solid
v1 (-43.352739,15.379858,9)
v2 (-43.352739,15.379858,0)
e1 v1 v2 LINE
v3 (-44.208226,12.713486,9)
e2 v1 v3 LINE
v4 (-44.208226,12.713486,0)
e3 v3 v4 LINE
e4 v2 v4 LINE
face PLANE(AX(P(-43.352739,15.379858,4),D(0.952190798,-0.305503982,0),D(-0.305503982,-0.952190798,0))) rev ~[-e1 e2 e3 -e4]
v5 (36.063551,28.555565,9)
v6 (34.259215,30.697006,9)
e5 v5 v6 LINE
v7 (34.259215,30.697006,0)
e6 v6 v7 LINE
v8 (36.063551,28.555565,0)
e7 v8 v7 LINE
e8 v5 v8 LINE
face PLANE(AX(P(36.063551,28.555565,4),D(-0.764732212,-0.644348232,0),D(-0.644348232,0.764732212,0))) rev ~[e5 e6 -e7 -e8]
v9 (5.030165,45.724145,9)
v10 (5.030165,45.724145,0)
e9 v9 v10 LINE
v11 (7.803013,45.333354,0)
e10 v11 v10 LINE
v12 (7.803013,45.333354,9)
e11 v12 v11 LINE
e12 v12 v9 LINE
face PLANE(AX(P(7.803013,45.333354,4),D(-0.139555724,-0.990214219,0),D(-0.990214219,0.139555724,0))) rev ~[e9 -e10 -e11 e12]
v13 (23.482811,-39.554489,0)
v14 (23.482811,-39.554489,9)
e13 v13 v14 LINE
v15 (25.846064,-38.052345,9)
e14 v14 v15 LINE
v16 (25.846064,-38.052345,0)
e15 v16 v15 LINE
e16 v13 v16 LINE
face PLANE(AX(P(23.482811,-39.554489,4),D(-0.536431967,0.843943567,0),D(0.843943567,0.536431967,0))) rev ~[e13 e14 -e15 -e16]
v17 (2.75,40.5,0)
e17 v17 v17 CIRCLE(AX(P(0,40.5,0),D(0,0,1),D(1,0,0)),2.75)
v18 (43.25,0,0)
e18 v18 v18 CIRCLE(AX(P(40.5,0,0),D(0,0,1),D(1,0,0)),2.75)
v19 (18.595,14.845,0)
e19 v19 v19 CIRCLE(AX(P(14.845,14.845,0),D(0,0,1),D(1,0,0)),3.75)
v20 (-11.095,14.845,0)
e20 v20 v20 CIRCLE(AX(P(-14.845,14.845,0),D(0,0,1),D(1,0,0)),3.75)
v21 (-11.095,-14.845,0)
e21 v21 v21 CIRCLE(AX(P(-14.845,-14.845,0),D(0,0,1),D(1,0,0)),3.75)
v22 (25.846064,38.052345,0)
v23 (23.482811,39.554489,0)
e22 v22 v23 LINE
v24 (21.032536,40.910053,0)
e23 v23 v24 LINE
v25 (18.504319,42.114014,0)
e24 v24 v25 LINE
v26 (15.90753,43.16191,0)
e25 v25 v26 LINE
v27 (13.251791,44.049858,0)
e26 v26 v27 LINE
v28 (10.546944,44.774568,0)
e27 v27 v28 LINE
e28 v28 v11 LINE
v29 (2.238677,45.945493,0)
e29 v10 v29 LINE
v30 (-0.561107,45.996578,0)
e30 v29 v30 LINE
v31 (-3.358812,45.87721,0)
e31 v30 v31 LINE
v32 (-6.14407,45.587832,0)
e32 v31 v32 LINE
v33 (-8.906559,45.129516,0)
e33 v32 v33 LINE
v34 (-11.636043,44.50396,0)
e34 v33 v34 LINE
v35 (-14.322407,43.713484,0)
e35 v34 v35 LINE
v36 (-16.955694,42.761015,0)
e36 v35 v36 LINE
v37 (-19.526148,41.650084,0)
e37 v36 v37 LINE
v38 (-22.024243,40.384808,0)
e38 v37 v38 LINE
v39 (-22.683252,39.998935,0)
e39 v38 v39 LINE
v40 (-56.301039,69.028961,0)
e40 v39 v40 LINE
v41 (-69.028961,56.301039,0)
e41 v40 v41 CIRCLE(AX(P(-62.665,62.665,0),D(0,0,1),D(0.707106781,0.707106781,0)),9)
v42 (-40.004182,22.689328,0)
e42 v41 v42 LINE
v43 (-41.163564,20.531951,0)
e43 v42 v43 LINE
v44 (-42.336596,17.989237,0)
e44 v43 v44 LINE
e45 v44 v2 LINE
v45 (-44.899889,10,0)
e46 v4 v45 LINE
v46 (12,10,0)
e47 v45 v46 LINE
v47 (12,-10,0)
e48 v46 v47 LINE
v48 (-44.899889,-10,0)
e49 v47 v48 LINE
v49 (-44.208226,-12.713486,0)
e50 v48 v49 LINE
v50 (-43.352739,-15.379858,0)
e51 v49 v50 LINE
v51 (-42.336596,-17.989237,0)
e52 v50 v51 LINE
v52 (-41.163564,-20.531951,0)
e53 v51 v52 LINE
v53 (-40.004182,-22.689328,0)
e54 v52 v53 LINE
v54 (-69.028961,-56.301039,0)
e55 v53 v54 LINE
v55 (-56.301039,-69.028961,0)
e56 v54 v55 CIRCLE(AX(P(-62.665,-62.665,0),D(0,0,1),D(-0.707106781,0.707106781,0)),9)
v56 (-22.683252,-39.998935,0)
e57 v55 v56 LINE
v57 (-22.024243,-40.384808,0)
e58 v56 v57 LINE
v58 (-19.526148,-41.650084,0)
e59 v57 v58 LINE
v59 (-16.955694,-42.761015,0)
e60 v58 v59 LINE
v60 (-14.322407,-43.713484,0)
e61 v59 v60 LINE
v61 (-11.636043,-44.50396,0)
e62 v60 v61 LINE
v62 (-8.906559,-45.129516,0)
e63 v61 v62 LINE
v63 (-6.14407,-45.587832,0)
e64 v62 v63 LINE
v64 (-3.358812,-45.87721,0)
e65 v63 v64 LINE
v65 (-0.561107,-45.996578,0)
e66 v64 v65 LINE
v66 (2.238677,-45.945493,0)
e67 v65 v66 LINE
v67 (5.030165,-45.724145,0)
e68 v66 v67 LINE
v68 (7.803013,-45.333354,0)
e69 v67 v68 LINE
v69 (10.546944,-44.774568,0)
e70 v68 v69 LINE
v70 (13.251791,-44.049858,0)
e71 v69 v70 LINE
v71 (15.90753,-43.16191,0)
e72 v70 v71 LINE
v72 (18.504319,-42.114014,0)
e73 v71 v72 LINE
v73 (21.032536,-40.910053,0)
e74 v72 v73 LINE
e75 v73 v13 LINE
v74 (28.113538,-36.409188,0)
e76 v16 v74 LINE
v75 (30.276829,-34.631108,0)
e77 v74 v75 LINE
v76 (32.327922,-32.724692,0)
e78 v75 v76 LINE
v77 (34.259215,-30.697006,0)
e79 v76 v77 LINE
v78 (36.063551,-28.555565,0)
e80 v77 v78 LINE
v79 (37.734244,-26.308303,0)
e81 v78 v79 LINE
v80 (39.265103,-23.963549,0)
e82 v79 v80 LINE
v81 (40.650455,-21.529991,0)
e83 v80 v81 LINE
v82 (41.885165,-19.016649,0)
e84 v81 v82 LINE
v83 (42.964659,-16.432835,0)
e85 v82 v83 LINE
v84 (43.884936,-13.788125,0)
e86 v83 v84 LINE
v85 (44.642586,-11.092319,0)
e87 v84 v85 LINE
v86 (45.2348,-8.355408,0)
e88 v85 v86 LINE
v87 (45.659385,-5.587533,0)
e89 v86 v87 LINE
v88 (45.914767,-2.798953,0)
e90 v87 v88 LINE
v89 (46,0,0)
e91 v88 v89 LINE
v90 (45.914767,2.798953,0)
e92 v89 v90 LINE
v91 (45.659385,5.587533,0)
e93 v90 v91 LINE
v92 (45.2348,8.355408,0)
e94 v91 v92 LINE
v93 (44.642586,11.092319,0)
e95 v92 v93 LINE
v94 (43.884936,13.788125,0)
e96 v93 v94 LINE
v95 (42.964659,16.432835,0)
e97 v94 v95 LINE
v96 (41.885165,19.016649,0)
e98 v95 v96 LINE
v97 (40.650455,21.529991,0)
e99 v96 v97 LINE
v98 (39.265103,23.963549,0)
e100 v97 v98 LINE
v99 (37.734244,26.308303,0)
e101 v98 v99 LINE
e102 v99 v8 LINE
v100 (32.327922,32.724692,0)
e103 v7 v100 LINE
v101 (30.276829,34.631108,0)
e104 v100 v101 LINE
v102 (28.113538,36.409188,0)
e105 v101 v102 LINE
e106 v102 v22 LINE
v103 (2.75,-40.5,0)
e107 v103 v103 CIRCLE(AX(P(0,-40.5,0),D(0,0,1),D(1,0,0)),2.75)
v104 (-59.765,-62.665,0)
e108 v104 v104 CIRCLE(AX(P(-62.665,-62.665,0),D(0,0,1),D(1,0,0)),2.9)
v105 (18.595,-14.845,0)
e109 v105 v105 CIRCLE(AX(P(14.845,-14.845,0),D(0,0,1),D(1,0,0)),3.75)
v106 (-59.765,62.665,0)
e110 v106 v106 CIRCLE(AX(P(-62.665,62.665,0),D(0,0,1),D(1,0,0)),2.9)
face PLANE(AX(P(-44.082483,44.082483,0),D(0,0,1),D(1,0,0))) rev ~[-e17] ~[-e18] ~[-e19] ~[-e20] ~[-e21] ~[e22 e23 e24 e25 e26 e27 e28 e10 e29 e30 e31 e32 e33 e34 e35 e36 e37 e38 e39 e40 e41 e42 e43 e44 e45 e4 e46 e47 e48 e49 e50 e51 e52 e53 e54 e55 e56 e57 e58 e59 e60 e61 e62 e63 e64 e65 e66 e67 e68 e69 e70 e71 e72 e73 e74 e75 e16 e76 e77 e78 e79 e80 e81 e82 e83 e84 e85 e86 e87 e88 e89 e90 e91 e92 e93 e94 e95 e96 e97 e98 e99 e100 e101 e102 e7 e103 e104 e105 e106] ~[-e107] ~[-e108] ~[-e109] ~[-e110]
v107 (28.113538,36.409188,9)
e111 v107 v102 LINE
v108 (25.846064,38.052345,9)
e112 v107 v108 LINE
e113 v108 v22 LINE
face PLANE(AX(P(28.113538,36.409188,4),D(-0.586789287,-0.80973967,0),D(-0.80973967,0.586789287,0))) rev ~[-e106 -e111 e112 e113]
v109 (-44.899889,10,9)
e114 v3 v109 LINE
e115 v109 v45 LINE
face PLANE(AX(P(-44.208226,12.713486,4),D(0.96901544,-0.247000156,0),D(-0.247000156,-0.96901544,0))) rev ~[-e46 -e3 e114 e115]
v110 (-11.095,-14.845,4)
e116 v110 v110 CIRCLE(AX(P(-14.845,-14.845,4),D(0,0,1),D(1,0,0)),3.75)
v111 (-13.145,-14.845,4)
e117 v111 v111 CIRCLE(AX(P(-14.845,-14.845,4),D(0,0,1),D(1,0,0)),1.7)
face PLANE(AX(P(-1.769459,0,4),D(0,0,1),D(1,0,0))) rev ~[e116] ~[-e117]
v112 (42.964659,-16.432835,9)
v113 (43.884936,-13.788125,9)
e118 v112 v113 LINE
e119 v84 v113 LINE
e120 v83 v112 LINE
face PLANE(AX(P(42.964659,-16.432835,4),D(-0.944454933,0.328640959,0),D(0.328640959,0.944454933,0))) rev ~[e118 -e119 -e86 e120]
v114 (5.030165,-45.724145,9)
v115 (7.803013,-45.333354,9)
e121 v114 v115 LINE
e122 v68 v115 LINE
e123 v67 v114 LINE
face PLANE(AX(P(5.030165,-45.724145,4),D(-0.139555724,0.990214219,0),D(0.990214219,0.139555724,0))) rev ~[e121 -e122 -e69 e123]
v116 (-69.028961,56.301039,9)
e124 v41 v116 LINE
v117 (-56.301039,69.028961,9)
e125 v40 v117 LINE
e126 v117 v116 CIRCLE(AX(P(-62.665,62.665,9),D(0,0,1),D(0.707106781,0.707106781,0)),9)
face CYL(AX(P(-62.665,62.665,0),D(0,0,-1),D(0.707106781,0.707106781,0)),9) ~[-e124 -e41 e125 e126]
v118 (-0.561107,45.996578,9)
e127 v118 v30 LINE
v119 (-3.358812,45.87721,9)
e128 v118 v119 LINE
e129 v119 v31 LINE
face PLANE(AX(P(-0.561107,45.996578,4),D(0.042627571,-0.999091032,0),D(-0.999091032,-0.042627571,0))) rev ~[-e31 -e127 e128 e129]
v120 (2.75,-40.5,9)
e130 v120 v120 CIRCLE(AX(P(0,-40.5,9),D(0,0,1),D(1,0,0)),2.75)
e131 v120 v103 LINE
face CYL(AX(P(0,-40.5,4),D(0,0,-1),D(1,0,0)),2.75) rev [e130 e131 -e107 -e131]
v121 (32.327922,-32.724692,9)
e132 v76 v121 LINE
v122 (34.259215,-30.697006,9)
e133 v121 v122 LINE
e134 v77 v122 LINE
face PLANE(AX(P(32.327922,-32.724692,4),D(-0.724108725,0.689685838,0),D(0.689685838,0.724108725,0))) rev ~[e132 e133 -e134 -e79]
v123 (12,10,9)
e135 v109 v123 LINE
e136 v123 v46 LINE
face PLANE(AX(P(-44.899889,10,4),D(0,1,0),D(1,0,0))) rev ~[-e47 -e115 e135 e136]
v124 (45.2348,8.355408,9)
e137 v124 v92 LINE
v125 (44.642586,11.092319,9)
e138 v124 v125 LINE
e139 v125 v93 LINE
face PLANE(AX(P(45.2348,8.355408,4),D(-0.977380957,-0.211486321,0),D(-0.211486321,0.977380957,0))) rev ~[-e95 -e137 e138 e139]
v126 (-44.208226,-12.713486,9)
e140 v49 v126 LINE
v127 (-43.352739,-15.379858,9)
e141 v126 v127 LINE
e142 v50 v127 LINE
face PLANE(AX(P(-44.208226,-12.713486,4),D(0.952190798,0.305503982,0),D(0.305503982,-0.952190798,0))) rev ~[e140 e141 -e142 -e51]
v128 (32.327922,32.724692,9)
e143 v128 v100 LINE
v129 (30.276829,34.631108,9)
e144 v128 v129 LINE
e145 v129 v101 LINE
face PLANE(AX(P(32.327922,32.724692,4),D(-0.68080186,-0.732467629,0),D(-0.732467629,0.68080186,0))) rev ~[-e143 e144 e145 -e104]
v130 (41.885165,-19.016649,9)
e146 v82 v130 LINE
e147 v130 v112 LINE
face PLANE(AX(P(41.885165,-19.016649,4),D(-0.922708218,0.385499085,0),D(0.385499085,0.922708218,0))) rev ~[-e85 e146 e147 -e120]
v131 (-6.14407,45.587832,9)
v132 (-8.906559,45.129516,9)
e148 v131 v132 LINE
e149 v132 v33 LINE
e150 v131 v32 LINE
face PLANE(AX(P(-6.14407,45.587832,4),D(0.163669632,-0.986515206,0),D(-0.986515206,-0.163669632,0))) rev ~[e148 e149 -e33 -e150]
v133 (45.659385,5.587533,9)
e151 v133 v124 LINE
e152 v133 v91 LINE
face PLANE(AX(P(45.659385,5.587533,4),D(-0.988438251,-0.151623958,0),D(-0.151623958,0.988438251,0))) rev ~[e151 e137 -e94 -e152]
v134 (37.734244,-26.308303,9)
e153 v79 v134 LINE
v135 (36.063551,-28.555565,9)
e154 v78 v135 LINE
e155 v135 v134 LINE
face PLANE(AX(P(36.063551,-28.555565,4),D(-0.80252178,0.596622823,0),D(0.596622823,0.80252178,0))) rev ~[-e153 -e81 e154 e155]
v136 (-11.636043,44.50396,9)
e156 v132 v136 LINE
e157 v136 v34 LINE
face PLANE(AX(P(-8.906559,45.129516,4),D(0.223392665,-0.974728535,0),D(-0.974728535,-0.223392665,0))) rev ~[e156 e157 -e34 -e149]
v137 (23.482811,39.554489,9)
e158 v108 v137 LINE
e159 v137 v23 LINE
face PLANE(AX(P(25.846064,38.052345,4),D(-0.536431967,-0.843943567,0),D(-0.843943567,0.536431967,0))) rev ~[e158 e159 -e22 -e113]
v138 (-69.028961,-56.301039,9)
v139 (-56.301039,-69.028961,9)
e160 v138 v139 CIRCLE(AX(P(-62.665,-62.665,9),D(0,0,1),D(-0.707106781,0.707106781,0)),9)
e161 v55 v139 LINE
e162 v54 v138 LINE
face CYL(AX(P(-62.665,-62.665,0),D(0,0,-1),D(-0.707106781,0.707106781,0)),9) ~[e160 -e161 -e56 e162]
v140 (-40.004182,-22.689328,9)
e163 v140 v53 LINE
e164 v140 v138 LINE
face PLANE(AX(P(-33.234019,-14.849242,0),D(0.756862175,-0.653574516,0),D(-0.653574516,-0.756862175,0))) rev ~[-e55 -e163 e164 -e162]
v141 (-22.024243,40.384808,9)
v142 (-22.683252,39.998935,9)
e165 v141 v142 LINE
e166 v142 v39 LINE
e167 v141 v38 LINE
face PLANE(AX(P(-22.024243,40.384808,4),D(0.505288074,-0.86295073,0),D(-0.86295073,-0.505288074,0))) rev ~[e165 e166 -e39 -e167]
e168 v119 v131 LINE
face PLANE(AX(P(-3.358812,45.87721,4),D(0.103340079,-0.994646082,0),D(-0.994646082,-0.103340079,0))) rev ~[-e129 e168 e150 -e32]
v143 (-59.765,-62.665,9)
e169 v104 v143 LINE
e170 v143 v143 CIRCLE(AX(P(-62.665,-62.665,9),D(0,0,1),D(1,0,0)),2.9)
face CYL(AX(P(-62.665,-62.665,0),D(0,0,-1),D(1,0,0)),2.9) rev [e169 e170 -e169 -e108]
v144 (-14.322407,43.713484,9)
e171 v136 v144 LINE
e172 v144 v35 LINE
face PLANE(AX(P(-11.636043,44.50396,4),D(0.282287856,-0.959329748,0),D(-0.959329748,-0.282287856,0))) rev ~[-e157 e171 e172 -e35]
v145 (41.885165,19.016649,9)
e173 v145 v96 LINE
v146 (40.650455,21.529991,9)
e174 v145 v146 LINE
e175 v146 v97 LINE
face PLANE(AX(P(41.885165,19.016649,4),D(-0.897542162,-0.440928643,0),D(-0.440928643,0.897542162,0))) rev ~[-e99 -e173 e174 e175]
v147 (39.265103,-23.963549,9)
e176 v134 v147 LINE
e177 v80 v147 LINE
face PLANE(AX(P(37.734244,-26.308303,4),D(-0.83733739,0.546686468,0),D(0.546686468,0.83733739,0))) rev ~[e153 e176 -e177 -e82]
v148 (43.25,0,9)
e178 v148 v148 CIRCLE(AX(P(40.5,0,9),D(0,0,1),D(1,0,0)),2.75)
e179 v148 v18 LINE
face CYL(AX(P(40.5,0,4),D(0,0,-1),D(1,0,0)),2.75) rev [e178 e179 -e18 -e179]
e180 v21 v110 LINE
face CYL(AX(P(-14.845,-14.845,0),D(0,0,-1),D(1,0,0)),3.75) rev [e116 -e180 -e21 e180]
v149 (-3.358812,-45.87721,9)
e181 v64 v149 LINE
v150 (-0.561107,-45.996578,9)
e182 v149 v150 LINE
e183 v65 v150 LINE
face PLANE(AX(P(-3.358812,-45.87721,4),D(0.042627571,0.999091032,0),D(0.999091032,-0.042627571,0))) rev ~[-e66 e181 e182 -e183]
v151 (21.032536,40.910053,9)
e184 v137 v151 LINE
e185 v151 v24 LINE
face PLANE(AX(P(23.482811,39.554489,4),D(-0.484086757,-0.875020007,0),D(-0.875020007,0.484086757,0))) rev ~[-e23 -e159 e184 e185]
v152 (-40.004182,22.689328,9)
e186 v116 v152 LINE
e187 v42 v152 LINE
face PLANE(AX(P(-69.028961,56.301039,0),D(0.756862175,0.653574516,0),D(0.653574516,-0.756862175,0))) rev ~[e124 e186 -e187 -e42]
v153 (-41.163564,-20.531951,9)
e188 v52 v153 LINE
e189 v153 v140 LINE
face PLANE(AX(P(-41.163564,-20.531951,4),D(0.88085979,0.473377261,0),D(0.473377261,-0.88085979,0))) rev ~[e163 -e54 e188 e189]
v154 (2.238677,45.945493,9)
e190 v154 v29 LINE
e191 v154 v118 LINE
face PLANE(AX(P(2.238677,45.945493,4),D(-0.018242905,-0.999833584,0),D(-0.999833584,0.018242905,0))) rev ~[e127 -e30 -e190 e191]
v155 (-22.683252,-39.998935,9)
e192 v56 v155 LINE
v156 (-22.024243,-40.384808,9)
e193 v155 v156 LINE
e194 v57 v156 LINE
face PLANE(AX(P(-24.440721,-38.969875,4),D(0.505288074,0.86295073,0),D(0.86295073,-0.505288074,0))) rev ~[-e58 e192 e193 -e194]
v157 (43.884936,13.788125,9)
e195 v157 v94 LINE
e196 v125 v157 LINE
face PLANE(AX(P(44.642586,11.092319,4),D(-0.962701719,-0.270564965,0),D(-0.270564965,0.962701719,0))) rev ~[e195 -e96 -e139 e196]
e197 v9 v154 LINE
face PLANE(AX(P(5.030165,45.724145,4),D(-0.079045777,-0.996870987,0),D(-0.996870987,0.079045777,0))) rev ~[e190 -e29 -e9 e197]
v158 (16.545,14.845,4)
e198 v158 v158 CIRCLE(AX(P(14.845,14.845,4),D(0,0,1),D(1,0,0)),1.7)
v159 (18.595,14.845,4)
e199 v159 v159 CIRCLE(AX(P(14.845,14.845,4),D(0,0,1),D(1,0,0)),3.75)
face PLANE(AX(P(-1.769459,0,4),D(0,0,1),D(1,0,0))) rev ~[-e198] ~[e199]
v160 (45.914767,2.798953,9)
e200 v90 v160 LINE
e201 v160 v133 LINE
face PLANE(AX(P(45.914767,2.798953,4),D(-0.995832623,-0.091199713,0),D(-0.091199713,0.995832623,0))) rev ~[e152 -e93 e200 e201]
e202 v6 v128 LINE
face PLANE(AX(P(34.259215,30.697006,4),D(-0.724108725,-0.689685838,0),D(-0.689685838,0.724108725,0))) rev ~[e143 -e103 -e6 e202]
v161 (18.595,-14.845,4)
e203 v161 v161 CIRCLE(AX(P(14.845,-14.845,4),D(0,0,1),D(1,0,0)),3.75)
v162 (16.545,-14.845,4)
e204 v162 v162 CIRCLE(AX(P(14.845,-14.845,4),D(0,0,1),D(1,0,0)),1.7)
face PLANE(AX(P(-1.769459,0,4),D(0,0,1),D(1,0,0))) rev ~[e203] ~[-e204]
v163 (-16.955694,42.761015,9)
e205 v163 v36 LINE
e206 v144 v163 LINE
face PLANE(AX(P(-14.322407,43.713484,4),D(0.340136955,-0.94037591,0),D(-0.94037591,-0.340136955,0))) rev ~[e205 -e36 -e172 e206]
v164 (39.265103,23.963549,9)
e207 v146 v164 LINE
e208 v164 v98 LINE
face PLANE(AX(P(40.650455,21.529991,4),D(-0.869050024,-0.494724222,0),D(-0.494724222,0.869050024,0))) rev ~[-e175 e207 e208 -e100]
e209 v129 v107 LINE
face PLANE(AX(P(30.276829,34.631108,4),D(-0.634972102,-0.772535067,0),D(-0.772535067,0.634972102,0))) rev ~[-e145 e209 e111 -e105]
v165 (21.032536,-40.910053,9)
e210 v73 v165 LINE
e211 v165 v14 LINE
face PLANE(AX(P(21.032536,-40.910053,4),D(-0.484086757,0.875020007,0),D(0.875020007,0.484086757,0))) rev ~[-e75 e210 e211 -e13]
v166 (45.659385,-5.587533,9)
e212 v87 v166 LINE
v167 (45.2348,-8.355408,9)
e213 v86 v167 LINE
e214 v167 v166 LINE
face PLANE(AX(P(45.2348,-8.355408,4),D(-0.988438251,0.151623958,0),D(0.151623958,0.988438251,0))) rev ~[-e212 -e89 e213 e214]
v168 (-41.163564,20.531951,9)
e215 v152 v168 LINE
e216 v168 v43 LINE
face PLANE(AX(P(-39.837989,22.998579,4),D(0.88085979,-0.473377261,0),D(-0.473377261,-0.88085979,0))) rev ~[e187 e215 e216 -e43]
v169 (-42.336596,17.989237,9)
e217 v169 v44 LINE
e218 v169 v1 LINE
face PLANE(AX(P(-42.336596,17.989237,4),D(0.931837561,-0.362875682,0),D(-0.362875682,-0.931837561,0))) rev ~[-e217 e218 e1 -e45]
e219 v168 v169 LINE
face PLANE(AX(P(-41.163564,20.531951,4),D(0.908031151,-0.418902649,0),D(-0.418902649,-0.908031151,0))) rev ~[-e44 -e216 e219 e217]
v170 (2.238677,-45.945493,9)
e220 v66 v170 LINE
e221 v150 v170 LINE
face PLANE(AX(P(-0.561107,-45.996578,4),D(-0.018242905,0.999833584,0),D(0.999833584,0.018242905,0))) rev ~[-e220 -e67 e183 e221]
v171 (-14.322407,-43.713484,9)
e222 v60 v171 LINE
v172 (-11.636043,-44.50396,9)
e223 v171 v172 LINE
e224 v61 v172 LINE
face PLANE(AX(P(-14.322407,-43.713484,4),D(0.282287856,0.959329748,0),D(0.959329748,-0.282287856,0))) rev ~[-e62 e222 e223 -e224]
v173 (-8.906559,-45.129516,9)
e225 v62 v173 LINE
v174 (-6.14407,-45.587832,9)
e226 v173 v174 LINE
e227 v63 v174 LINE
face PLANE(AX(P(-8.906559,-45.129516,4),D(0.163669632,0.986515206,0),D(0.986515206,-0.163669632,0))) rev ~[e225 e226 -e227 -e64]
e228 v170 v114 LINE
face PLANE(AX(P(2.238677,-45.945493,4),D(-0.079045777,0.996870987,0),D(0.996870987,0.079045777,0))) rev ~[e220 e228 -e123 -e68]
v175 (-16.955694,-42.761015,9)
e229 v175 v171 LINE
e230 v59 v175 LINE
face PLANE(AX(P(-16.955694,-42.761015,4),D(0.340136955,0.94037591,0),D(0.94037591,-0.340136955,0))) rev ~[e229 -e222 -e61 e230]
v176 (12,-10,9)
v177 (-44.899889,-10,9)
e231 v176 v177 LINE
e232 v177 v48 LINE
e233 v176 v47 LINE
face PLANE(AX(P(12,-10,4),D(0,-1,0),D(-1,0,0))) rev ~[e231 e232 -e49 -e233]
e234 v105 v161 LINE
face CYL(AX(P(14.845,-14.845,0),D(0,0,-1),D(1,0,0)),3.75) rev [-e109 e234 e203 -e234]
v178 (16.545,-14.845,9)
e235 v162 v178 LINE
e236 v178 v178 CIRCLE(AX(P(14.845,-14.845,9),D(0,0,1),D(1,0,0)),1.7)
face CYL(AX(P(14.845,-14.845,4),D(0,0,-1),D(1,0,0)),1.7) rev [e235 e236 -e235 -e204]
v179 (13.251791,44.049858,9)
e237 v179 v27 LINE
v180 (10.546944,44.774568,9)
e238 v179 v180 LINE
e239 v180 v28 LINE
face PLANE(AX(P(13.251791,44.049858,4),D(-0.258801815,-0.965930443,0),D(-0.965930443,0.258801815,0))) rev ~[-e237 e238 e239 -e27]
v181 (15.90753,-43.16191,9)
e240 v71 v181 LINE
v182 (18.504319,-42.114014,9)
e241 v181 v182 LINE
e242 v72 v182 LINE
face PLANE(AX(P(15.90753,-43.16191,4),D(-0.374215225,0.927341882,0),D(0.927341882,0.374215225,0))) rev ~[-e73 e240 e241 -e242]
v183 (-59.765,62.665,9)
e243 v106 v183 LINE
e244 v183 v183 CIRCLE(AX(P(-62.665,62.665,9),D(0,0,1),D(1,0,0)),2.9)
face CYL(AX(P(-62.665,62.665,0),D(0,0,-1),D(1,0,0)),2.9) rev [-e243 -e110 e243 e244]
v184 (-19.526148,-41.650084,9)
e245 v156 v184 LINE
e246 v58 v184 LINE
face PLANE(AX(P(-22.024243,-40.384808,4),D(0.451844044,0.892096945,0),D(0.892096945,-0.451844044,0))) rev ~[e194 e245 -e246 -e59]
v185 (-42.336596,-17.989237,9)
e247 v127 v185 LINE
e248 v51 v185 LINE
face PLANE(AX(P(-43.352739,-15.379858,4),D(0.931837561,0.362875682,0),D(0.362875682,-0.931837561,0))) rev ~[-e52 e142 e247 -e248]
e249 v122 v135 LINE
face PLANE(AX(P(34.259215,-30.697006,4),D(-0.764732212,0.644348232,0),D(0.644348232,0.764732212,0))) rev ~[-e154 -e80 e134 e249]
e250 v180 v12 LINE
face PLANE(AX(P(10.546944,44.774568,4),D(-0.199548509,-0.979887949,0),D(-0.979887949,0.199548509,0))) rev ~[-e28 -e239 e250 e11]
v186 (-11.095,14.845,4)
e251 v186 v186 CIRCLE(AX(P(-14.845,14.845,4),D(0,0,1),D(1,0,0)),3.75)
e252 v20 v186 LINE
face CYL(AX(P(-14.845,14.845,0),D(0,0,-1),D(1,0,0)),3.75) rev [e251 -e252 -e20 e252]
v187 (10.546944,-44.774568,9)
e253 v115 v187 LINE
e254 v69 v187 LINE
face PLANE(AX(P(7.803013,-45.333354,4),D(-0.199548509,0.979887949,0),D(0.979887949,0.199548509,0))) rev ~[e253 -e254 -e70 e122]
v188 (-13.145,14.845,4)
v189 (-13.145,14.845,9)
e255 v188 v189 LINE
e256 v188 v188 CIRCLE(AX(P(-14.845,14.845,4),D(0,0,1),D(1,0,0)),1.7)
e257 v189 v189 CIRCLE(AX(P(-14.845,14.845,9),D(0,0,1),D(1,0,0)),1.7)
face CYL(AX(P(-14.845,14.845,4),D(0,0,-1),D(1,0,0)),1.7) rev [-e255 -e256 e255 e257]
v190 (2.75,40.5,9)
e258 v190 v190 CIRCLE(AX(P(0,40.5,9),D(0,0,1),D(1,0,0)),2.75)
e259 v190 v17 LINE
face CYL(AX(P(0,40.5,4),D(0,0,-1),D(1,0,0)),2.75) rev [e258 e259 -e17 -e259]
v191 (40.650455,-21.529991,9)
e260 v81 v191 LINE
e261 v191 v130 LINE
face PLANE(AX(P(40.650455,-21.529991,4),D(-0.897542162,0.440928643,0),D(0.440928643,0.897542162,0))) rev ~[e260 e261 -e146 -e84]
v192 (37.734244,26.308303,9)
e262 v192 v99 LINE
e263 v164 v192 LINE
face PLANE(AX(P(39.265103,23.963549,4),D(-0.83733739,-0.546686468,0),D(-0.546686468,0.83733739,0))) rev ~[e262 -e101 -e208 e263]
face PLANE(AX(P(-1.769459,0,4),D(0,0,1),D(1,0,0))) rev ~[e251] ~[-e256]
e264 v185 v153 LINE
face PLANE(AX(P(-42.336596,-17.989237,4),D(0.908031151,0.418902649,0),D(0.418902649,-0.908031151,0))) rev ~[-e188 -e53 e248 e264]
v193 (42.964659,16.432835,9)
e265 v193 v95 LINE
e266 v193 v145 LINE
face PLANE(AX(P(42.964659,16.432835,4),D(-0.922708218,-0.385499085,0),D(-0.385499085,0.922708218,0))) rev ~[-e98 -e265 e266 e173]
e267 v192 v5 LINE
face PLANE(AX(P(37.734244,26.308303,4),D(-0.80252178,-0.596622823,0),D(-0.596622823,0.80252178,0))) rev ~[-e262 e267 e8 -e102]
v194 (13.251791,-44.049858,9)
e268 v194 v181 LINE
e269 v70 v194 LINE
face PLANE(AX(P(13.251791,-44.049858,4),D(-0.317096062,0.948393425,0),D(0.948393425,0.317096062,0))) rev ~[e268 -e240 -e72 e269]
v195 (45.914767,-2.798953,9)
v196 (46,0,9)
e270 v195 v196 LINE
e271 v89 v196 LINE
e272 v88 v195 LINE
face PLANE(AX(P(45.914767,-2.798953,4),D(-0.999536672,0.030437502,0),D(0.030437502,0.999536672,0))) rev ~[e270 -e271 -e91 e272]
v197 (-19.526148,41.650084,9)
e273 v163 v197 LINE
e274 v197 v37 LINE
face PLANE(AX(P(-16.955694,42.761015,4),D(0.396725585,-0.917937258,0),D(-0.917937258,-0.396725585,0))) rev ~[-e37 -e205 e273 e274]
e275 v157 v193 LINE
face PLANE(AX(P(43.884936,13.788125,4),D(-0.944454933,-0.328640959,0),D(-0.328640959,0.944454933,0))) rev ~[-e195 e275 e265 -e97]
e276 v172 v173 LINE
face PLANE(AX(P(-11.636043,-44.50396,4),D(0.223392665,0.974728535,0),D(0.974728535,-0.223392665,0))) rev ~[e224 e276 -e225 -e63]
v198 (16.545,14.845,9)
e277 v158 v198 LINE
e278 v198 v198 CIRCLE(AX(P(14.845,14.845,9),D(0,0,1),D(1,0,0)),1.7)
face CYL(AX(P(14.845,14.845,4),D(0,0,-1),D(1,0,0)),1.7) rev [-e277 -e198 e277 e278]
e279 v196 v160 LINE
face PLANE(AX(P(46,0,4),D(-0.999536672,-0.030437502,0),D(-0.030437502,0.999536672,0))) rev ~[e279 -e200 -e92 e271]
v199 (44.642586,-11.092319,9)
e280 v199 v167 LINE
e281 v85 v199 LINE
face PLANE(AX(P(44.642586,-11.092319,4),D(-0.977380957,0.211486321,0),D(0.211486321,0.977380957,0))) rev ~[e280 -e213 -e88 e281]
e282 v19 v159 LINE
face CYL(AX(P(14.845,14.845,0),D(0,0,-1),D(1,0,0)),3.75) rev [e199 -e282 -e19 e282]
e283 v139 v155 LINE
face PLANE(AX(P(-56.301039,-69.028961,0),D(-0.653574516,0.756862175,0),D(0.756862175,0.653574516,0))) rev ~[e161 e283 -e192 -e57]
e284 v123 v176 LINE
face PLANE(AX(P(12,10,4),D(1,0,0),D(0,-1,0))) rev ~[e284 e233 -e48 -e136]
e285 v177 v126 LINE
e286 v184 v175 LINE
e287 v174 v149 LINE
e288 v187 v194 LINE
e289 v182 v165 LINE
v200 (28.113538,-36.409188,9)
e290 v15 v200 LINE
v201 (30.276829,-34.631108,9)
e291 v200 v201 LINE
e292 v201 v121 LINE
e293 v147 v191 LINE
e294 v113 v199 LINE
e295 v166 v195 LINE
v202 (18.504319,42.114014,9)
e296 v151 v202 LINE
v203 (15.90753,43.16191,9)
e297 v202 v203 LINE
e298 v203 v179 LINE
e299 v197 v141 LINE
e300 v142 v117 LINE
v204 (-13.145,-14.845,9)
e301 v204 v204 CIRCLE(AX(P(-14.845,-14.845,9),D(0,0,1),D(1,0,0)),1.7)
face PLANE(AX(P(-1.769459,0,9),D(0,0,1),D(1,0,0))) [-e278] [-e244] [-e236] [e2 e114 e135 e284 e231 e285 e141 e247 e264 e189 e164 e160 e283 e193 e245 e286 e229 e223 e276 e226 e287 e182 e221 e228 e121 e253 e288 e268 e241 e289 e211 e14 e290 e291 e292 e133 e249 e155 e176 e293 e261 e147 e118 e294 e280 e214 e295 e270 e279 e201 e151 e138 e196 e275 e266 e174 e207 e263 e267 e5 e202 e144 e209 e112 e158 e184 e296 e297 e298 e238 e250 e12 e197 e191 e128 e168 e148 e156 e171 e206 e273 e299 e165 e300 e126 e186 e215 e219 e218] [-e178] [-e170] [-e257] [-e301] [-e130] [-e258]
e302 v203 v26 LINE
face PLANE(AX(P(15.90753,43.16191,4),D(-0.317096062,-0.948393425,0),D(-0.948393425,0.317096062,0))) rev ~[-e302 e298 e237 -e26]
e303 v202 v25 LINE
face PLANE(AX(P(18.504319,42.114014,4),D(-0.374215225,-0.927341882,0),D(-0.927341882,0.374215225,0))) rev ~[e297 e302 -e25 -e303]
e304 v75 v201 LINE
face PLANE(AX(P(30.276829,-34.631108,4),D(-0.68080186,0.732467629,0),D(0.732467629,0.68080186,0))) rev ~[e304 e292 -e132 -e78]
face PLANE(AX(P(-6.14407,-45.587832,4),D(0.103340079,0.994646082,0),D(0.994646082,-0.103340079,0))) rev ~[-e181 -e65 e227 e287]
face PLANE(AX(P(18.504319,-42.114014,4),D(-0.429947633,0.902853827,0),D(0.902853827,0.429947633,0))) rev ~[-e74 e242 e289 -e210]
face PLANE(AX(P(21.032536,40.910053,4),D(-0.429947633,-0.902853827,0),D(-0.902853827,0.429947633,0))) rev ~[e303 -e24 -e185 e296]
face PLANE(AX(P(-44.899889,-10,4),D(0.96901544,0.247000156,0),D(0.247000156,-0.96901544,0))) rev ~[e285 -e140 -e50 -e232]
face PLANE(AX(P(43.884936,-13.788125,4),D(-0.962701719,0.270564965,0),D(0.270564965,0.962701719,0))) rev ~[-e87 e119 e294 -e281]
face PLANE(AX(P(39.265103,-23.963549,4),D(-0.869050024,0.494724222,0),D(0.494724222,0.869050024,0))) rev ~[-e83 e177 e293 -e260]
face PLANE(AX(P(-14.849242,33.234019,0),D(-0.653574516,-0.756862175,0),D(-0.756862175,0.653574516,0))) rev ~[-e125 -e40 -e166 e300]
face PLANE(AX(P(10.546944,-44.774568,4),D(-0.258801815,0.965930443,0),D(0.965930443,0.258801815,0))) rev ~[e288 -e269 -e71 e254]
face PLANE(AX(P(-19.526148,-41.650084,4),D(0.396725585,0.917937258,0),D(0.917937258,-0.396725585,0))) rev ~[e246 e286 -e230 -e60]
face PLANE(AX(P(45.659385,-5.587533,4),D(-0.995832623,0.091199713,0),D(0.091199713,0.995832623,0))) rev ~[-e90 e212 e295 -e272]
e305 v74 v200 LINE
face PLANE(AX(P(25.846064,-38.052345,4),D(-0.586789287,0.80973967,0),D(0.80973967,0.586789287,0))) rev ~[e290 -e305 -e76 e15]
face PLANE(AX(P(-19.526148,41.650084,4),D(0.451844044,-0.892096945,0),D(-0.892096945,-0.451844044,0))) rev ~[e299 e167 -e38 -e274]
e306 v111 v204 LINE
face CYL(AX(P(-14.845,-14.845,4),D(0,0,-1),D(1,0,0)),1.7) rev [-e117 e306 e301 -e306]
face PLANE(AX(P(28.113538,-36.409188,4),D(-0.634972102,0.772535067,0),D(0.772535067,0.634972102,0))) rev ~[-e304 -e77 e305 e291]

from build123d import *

# Parameters (mm, degrees)
SKETCH_1_R          = 3.75
SKETCH_1_R_2        = 2.75
EXTRUDE_436_DEPTH   = 4
EXTRUDE_START       = 4
SKETCH_2_R          = 1.7
SKETCH_2_R_2        = 2.75
EXTRUDE_712_DEPTH   = 5
SKETCH_3_R          = 2.9
EXTRUDE_5_8_DEPTH   = 9
SKETCH_4_R          = 2.9
EXTRUDE_5_8_2_DEPTH = 9


with BuildPart() as part:
    # 草图1 → Extrude 436 (new body)
    with BuildSketch(Plane.XY):
        Polygon((-44.899888641, -10), (-44.2082264, -12.713485699), (-43.352738806, -15.379858192), (-42.336596099, -17.989236526), (-41.163563864, -20.531950955), (-39.837989085, -22.998578775), (-38.364784033, -25.379979238), (-36.74940806, -27.667327432), (-34.997847373, -29.852146979), (-33.116592846, -31.926341448), (-31.112615968, -33.882224361), (-28.993343009, -35.712547671), (-26.7666275, -37.410528629), (-24.440721127, -38.969874914), (-22.024243155, -40.384807953), (-19.526148488, -41.650084336), (-16.955694479, -42.761015244), (-14.322406631, -43.713483827), (-11.636043292, -44.503960459), (-8.906559497, -45.129515818), (-6.144070075, -45.587831742), (-3.358812166, -45.87720982), (-0.561107284, -45.996577684), (2.238676931, -45.945492985), (5.030165132, -45.72414503), (7.803012717, -45.333354084), (10.546944161, -44.774568327), (13.251791096, -44.049858487), (15.907529991, -43.161910171), (18.504319299, -42.114013906), (21.032535927, -40.910052952), (23.482810893, -39.554488905), (25.846064052, -38.052345171), (28.11353774, -36.409188342), (30.276829231, -34.631107573), (32.327921871, -32.724692016), (34.25921479, -30.697006401), (36.063551069, -28.555564857), (37.734244259, -26.308303066), (39.265103162, -23.963548854), (40.650454772, -21.529991333), (41.885165301, -19.016648698), (42.9646592, -16.432834808), (43.884936117, -13.788124675), (44.64258572, -11.092318975), (45.234800338, -8.355407734), (45.659385361, -5.587533306), (45.914767377, -2.798952785), (46, 0), (45.914767377, 2.798952785), (45.659385361, 5.587533306), (45.234800338, 8.355407734), (44.64258572, 11.092318975), (43.884936117, 13.788124675), (42.9646592, 16.432834808), (41.885165301, 19.016648698), (40.650454772, 21.529991333), (39.265103162, 23.963548854), (37.734244259, 26.308303066), (36.063551069, 28.555564857), (34.25921479, 30.697006401), (32.327921871, 32.724692016), (30.276829231, 34.631107573), (28.11353774, 36.409188342), (25.846064052, 38.052345171), (23.482810893, 39.554488905), (21.032535927, 40.910052952), (18.504319299, 42.114013906), (15.907529991, 43.161910171), (13.251791096, 44.049858487), (10.546944161, 44.774568327), (7.803012717, 45.333354084), (5.030165132, 45.72414503), (2.238676931, 45.945492985), (-0.561107284, 45.996577684), (-3.358812166, 45.87720982), (-6.144070075, 45.587831742), (-8.906559497, 45.129515818), (-11.636043292, 44.503960459), (-14.322406631, 43.713483827), (-16.955694479, 42.761015244), (-19.526148488, 41.650084336), (-22.024243155, 40.384807953), (-24.440721127, 38.969874914), (-26.7666275, 37.410528629), (-28.993343009, 35.712547671), (-31.112615968, 33.882224361), (-33.116592846, 31.926341448), (-34.997847373, 29.852146979), (-36.74940806, 27.667327432), (-38.364784033, 25.379979238), (-39.837989085, 22.998578775), (-41.163563864, 20.531950955), (-42.336596099, 17.989236526), (-43.352738806, 15.379858192), (-44.2082264, 12.713485699), (-44.899888641, 10), (12, 10), (12, -10), align=None)
        with Locations((-14.845, -14.845)):
            Circle(SKETCH_1_R, mode=Mode.SUBTRACT)
        with Locations((-14.845, 14.845)):
            Circle(SKETCH_1_R, mode=Mode.SUBTRACT)
        with Locations((14.845, -14.845)):
            Circle(SKETCH_1_R, mode=Mode.SUBTRACT)
        with Locations((14.845, 14.845)):
            Circle(SKETCH_1_R, mode=Mode.SUBTRACT)
        with Locations((0, -40.5)):
            Circle(SKETCH_1_R_2, mode=Mode.SUBTRACT)
        with Locations((0, 40.5)):
            Circle(SKETCH_1_R_2, mode=Mode.SUBTRACT)
        with Locations((40.5, 0)):
            Circle(SKETCH_1_R_2, mode=Mode.SUBTRACT)
    extrude(amount=EXTRUDE_436_DEPTH)

    # 草图2 → Extrude 712 (add)
    with BuildSketch(Plane.XY.offset(EXTRUDE_START)):
        Polygon((-44.899888641, -10), (-44.2082264, -12.713485699), (-43.352738806, -15.379858192), (-42.336596099, -17.989236526), (-41.163563864, -20.531950955), (-39.837989085, -22.998578775), (-38.364784033, -25.379979238), (-36.74940806, -27.667327432), (-34.997847373, -29.852146979), (-33.116592846, -31.926341448), (-31.112615968, -33.882224361), (-28.993343009, -35.712547671), (-26.7666275, -37.410528629), (-24.440721127, -38.969874914), (-22.024243155, -40.384807953), (-19.526148488, -41.650084336), (-16.955694479, -42.761015244), (-14.322406631, -43.713483827), (-11.636043292, -44.503960459), (-8.906559497, -45.129515818), (-6.144070075, -45.587831742), (-3.358812166, -45.87720982), (-0.561107284, -45.996577684), (2.238676931, -45.945492985), (5.030165132, -45.72414503), (7.803012717, -45.333354084), (10.546944161, -44.774568327), (13.251791096, -44.049858487), (15.907529991, -43.161910171), (18.504319299, -42.114013906), (21.032535927, -40.910052952), (23.482810893, -39.554488905), (25.846064052, -38.052345171), (28.11353774, -36.409188342), (30.276829231, -34.631107573), (32.327921871, -32.724692016), (34.25921479, -30.697006401), (36.063551069, -28.555564857), (37.734244259, -26.308303066), (39.265103162, -23.963548854), (40.650454772, -21.529991333), (41.885165301, -19.016648698), (42.9646592, -16.432834808), (43.884936117, -13.788124675), (44.64258572, -11.092318975), (45.234800338, -8.355407734), (45.659385361, -5.587533306), (45.914767377, -2.798952785), (46, 0), (45.914767377, 2.798952785), (45.659385361, 5.587533306), (45.234800338, 8.355407734), (44.64258572, 11.092318975), (43.884936117, 13.788124675), (42.9646592, 16.432834808), (41.885165301, 19.016648698), (40.650454772, 21.529991333), (39.265103162, 23.963548854), (37.734244259, 26.308303066), (36.063551069, 28.555564857), (34.25921479, 30.697006401), (32.327921871, 32.724692016), (30.276829231, 34.631107573), (28.11353774, 36.409188342), (25.846064052, 38.052345171), (23.482810893, 39.554488905), (21.032535927, 40.910052952), (18.504319299, 42.114013906), (15.907529991, 43.161910171), (13.251791096, 44.049858487), (10.546944161, 44.774568327), (7.803012717, 45.333354084), (5.030165132, 45.72414503), (2.238676931, 45.945492985), (-0.561107284, 45.996577684), (-3.358812166, 45.87720982), (-6.144070075, 45.587831742), (-8.906559497, 45.129515818), (-11.636043292, 44.503960459), (-14.322406631, 43.713483827), (-16.955694479, 42.761015244), (-19.526148488, 41.650084336), (-22.024243155, 40.384807953), (-24.440721127, 38.969874914), (-26.7666275, 37.410528629), (-28.993343009, 35.712547671), (-31.112615968, 33.882224361), (-33.116592846, 31.926341448), (-34.997847373, 29.852146979), (-36.74940806, 27.667327432), (-38.364784033, 25.379979238), (-39.837989085, 22.998578775), (-41.163563864, 20.531950955), (-42.336596099, 17.989236526), (-43.352738806, 15.379858192), (-44.2082264, 12.713485699), (-44.899888641, 10), (12, 10), (12, -10), align=None)
        with Locations((-14.845, -14.845)):
            Circle(SKETCH_2_R, mode=Mode.SUBTRACT)
        with Locations((-14.845, 14.845)):
            Circle(SKETCH_2_R, mode=Mode.SUBTRACT)
        with Locations((14.845, -14.845)):
            Circle(SKETCH_2_R, mode=Mode.SUBTRACT)
        with Locations((14.845, 14.845)):
            Circle(SKETCH_2_R, mode=Mode.SUBTRACT)
        with Locations((0, -40.5)):
            Circle(SKETCH_2_R_2, mode=Mode.SUBTRACT)
        with Locations((0, 40.5)):
            Circle(SKETCH_2_R_2, mode=Mode.SUBTRACT)
        with Locations((40.5, 0)):
            Circle(SKETCH_2_R_2, mode=Mode.SUBTRACT)
    extrude(amount=EXTRUDE_712_DEPTH)

    # 草图3 → Extrude 5.8 (add)
    with BuildSketch(Plane.XY):
        with BuildLine():
            Line((-33.234018716, -14.849242405), (-69.028961031, -56.301038969))
            ThreePointArc((-69.028961031, -56.301038969), (-69.028961031, -69.028961031), (-56.301038969, -69.028961031))
            Line((-56.301038969, -69.028961031), (-14.849242405, -33.234018716))
            Line((-14.849242405, -33.234018716), (-33.234018716, -14.849242405))
        make_face()
        with Locations((-62.665, -62.665)):
            Circle(SKETCH_3_R, mode=Mode.SUBTRACT)
    extrude(amount=EXTRUDE_5_8_DEPTH)

    # 草图4 → Extrude 5.8 2 (add)
    with BuildSketch(Plane.XY):
        with BuildLine():
            Line((-14.849242405, 33.234018716), (-56.301038969, 69.028961031))
            ThreePointArc((-56.301038969, 69.028961031), (-69.028961031, 69.028961031), (-69.028961031, 56.301038969))
            Line((-69.028961031, 56.301038969), (-33.234018716, 14.849242405))
            Line((-33.234018716, 14.849242405), (-14.849242405, 33.234018716))
        make_face()
        with Locations((-62.665, 62.665)):
            Circle(SKETCH_4_R, mode=Mode.SUBTRACT)
    extrude(amount=EXTRUDE_5_8_2_DEPTH)


solid = part.part
